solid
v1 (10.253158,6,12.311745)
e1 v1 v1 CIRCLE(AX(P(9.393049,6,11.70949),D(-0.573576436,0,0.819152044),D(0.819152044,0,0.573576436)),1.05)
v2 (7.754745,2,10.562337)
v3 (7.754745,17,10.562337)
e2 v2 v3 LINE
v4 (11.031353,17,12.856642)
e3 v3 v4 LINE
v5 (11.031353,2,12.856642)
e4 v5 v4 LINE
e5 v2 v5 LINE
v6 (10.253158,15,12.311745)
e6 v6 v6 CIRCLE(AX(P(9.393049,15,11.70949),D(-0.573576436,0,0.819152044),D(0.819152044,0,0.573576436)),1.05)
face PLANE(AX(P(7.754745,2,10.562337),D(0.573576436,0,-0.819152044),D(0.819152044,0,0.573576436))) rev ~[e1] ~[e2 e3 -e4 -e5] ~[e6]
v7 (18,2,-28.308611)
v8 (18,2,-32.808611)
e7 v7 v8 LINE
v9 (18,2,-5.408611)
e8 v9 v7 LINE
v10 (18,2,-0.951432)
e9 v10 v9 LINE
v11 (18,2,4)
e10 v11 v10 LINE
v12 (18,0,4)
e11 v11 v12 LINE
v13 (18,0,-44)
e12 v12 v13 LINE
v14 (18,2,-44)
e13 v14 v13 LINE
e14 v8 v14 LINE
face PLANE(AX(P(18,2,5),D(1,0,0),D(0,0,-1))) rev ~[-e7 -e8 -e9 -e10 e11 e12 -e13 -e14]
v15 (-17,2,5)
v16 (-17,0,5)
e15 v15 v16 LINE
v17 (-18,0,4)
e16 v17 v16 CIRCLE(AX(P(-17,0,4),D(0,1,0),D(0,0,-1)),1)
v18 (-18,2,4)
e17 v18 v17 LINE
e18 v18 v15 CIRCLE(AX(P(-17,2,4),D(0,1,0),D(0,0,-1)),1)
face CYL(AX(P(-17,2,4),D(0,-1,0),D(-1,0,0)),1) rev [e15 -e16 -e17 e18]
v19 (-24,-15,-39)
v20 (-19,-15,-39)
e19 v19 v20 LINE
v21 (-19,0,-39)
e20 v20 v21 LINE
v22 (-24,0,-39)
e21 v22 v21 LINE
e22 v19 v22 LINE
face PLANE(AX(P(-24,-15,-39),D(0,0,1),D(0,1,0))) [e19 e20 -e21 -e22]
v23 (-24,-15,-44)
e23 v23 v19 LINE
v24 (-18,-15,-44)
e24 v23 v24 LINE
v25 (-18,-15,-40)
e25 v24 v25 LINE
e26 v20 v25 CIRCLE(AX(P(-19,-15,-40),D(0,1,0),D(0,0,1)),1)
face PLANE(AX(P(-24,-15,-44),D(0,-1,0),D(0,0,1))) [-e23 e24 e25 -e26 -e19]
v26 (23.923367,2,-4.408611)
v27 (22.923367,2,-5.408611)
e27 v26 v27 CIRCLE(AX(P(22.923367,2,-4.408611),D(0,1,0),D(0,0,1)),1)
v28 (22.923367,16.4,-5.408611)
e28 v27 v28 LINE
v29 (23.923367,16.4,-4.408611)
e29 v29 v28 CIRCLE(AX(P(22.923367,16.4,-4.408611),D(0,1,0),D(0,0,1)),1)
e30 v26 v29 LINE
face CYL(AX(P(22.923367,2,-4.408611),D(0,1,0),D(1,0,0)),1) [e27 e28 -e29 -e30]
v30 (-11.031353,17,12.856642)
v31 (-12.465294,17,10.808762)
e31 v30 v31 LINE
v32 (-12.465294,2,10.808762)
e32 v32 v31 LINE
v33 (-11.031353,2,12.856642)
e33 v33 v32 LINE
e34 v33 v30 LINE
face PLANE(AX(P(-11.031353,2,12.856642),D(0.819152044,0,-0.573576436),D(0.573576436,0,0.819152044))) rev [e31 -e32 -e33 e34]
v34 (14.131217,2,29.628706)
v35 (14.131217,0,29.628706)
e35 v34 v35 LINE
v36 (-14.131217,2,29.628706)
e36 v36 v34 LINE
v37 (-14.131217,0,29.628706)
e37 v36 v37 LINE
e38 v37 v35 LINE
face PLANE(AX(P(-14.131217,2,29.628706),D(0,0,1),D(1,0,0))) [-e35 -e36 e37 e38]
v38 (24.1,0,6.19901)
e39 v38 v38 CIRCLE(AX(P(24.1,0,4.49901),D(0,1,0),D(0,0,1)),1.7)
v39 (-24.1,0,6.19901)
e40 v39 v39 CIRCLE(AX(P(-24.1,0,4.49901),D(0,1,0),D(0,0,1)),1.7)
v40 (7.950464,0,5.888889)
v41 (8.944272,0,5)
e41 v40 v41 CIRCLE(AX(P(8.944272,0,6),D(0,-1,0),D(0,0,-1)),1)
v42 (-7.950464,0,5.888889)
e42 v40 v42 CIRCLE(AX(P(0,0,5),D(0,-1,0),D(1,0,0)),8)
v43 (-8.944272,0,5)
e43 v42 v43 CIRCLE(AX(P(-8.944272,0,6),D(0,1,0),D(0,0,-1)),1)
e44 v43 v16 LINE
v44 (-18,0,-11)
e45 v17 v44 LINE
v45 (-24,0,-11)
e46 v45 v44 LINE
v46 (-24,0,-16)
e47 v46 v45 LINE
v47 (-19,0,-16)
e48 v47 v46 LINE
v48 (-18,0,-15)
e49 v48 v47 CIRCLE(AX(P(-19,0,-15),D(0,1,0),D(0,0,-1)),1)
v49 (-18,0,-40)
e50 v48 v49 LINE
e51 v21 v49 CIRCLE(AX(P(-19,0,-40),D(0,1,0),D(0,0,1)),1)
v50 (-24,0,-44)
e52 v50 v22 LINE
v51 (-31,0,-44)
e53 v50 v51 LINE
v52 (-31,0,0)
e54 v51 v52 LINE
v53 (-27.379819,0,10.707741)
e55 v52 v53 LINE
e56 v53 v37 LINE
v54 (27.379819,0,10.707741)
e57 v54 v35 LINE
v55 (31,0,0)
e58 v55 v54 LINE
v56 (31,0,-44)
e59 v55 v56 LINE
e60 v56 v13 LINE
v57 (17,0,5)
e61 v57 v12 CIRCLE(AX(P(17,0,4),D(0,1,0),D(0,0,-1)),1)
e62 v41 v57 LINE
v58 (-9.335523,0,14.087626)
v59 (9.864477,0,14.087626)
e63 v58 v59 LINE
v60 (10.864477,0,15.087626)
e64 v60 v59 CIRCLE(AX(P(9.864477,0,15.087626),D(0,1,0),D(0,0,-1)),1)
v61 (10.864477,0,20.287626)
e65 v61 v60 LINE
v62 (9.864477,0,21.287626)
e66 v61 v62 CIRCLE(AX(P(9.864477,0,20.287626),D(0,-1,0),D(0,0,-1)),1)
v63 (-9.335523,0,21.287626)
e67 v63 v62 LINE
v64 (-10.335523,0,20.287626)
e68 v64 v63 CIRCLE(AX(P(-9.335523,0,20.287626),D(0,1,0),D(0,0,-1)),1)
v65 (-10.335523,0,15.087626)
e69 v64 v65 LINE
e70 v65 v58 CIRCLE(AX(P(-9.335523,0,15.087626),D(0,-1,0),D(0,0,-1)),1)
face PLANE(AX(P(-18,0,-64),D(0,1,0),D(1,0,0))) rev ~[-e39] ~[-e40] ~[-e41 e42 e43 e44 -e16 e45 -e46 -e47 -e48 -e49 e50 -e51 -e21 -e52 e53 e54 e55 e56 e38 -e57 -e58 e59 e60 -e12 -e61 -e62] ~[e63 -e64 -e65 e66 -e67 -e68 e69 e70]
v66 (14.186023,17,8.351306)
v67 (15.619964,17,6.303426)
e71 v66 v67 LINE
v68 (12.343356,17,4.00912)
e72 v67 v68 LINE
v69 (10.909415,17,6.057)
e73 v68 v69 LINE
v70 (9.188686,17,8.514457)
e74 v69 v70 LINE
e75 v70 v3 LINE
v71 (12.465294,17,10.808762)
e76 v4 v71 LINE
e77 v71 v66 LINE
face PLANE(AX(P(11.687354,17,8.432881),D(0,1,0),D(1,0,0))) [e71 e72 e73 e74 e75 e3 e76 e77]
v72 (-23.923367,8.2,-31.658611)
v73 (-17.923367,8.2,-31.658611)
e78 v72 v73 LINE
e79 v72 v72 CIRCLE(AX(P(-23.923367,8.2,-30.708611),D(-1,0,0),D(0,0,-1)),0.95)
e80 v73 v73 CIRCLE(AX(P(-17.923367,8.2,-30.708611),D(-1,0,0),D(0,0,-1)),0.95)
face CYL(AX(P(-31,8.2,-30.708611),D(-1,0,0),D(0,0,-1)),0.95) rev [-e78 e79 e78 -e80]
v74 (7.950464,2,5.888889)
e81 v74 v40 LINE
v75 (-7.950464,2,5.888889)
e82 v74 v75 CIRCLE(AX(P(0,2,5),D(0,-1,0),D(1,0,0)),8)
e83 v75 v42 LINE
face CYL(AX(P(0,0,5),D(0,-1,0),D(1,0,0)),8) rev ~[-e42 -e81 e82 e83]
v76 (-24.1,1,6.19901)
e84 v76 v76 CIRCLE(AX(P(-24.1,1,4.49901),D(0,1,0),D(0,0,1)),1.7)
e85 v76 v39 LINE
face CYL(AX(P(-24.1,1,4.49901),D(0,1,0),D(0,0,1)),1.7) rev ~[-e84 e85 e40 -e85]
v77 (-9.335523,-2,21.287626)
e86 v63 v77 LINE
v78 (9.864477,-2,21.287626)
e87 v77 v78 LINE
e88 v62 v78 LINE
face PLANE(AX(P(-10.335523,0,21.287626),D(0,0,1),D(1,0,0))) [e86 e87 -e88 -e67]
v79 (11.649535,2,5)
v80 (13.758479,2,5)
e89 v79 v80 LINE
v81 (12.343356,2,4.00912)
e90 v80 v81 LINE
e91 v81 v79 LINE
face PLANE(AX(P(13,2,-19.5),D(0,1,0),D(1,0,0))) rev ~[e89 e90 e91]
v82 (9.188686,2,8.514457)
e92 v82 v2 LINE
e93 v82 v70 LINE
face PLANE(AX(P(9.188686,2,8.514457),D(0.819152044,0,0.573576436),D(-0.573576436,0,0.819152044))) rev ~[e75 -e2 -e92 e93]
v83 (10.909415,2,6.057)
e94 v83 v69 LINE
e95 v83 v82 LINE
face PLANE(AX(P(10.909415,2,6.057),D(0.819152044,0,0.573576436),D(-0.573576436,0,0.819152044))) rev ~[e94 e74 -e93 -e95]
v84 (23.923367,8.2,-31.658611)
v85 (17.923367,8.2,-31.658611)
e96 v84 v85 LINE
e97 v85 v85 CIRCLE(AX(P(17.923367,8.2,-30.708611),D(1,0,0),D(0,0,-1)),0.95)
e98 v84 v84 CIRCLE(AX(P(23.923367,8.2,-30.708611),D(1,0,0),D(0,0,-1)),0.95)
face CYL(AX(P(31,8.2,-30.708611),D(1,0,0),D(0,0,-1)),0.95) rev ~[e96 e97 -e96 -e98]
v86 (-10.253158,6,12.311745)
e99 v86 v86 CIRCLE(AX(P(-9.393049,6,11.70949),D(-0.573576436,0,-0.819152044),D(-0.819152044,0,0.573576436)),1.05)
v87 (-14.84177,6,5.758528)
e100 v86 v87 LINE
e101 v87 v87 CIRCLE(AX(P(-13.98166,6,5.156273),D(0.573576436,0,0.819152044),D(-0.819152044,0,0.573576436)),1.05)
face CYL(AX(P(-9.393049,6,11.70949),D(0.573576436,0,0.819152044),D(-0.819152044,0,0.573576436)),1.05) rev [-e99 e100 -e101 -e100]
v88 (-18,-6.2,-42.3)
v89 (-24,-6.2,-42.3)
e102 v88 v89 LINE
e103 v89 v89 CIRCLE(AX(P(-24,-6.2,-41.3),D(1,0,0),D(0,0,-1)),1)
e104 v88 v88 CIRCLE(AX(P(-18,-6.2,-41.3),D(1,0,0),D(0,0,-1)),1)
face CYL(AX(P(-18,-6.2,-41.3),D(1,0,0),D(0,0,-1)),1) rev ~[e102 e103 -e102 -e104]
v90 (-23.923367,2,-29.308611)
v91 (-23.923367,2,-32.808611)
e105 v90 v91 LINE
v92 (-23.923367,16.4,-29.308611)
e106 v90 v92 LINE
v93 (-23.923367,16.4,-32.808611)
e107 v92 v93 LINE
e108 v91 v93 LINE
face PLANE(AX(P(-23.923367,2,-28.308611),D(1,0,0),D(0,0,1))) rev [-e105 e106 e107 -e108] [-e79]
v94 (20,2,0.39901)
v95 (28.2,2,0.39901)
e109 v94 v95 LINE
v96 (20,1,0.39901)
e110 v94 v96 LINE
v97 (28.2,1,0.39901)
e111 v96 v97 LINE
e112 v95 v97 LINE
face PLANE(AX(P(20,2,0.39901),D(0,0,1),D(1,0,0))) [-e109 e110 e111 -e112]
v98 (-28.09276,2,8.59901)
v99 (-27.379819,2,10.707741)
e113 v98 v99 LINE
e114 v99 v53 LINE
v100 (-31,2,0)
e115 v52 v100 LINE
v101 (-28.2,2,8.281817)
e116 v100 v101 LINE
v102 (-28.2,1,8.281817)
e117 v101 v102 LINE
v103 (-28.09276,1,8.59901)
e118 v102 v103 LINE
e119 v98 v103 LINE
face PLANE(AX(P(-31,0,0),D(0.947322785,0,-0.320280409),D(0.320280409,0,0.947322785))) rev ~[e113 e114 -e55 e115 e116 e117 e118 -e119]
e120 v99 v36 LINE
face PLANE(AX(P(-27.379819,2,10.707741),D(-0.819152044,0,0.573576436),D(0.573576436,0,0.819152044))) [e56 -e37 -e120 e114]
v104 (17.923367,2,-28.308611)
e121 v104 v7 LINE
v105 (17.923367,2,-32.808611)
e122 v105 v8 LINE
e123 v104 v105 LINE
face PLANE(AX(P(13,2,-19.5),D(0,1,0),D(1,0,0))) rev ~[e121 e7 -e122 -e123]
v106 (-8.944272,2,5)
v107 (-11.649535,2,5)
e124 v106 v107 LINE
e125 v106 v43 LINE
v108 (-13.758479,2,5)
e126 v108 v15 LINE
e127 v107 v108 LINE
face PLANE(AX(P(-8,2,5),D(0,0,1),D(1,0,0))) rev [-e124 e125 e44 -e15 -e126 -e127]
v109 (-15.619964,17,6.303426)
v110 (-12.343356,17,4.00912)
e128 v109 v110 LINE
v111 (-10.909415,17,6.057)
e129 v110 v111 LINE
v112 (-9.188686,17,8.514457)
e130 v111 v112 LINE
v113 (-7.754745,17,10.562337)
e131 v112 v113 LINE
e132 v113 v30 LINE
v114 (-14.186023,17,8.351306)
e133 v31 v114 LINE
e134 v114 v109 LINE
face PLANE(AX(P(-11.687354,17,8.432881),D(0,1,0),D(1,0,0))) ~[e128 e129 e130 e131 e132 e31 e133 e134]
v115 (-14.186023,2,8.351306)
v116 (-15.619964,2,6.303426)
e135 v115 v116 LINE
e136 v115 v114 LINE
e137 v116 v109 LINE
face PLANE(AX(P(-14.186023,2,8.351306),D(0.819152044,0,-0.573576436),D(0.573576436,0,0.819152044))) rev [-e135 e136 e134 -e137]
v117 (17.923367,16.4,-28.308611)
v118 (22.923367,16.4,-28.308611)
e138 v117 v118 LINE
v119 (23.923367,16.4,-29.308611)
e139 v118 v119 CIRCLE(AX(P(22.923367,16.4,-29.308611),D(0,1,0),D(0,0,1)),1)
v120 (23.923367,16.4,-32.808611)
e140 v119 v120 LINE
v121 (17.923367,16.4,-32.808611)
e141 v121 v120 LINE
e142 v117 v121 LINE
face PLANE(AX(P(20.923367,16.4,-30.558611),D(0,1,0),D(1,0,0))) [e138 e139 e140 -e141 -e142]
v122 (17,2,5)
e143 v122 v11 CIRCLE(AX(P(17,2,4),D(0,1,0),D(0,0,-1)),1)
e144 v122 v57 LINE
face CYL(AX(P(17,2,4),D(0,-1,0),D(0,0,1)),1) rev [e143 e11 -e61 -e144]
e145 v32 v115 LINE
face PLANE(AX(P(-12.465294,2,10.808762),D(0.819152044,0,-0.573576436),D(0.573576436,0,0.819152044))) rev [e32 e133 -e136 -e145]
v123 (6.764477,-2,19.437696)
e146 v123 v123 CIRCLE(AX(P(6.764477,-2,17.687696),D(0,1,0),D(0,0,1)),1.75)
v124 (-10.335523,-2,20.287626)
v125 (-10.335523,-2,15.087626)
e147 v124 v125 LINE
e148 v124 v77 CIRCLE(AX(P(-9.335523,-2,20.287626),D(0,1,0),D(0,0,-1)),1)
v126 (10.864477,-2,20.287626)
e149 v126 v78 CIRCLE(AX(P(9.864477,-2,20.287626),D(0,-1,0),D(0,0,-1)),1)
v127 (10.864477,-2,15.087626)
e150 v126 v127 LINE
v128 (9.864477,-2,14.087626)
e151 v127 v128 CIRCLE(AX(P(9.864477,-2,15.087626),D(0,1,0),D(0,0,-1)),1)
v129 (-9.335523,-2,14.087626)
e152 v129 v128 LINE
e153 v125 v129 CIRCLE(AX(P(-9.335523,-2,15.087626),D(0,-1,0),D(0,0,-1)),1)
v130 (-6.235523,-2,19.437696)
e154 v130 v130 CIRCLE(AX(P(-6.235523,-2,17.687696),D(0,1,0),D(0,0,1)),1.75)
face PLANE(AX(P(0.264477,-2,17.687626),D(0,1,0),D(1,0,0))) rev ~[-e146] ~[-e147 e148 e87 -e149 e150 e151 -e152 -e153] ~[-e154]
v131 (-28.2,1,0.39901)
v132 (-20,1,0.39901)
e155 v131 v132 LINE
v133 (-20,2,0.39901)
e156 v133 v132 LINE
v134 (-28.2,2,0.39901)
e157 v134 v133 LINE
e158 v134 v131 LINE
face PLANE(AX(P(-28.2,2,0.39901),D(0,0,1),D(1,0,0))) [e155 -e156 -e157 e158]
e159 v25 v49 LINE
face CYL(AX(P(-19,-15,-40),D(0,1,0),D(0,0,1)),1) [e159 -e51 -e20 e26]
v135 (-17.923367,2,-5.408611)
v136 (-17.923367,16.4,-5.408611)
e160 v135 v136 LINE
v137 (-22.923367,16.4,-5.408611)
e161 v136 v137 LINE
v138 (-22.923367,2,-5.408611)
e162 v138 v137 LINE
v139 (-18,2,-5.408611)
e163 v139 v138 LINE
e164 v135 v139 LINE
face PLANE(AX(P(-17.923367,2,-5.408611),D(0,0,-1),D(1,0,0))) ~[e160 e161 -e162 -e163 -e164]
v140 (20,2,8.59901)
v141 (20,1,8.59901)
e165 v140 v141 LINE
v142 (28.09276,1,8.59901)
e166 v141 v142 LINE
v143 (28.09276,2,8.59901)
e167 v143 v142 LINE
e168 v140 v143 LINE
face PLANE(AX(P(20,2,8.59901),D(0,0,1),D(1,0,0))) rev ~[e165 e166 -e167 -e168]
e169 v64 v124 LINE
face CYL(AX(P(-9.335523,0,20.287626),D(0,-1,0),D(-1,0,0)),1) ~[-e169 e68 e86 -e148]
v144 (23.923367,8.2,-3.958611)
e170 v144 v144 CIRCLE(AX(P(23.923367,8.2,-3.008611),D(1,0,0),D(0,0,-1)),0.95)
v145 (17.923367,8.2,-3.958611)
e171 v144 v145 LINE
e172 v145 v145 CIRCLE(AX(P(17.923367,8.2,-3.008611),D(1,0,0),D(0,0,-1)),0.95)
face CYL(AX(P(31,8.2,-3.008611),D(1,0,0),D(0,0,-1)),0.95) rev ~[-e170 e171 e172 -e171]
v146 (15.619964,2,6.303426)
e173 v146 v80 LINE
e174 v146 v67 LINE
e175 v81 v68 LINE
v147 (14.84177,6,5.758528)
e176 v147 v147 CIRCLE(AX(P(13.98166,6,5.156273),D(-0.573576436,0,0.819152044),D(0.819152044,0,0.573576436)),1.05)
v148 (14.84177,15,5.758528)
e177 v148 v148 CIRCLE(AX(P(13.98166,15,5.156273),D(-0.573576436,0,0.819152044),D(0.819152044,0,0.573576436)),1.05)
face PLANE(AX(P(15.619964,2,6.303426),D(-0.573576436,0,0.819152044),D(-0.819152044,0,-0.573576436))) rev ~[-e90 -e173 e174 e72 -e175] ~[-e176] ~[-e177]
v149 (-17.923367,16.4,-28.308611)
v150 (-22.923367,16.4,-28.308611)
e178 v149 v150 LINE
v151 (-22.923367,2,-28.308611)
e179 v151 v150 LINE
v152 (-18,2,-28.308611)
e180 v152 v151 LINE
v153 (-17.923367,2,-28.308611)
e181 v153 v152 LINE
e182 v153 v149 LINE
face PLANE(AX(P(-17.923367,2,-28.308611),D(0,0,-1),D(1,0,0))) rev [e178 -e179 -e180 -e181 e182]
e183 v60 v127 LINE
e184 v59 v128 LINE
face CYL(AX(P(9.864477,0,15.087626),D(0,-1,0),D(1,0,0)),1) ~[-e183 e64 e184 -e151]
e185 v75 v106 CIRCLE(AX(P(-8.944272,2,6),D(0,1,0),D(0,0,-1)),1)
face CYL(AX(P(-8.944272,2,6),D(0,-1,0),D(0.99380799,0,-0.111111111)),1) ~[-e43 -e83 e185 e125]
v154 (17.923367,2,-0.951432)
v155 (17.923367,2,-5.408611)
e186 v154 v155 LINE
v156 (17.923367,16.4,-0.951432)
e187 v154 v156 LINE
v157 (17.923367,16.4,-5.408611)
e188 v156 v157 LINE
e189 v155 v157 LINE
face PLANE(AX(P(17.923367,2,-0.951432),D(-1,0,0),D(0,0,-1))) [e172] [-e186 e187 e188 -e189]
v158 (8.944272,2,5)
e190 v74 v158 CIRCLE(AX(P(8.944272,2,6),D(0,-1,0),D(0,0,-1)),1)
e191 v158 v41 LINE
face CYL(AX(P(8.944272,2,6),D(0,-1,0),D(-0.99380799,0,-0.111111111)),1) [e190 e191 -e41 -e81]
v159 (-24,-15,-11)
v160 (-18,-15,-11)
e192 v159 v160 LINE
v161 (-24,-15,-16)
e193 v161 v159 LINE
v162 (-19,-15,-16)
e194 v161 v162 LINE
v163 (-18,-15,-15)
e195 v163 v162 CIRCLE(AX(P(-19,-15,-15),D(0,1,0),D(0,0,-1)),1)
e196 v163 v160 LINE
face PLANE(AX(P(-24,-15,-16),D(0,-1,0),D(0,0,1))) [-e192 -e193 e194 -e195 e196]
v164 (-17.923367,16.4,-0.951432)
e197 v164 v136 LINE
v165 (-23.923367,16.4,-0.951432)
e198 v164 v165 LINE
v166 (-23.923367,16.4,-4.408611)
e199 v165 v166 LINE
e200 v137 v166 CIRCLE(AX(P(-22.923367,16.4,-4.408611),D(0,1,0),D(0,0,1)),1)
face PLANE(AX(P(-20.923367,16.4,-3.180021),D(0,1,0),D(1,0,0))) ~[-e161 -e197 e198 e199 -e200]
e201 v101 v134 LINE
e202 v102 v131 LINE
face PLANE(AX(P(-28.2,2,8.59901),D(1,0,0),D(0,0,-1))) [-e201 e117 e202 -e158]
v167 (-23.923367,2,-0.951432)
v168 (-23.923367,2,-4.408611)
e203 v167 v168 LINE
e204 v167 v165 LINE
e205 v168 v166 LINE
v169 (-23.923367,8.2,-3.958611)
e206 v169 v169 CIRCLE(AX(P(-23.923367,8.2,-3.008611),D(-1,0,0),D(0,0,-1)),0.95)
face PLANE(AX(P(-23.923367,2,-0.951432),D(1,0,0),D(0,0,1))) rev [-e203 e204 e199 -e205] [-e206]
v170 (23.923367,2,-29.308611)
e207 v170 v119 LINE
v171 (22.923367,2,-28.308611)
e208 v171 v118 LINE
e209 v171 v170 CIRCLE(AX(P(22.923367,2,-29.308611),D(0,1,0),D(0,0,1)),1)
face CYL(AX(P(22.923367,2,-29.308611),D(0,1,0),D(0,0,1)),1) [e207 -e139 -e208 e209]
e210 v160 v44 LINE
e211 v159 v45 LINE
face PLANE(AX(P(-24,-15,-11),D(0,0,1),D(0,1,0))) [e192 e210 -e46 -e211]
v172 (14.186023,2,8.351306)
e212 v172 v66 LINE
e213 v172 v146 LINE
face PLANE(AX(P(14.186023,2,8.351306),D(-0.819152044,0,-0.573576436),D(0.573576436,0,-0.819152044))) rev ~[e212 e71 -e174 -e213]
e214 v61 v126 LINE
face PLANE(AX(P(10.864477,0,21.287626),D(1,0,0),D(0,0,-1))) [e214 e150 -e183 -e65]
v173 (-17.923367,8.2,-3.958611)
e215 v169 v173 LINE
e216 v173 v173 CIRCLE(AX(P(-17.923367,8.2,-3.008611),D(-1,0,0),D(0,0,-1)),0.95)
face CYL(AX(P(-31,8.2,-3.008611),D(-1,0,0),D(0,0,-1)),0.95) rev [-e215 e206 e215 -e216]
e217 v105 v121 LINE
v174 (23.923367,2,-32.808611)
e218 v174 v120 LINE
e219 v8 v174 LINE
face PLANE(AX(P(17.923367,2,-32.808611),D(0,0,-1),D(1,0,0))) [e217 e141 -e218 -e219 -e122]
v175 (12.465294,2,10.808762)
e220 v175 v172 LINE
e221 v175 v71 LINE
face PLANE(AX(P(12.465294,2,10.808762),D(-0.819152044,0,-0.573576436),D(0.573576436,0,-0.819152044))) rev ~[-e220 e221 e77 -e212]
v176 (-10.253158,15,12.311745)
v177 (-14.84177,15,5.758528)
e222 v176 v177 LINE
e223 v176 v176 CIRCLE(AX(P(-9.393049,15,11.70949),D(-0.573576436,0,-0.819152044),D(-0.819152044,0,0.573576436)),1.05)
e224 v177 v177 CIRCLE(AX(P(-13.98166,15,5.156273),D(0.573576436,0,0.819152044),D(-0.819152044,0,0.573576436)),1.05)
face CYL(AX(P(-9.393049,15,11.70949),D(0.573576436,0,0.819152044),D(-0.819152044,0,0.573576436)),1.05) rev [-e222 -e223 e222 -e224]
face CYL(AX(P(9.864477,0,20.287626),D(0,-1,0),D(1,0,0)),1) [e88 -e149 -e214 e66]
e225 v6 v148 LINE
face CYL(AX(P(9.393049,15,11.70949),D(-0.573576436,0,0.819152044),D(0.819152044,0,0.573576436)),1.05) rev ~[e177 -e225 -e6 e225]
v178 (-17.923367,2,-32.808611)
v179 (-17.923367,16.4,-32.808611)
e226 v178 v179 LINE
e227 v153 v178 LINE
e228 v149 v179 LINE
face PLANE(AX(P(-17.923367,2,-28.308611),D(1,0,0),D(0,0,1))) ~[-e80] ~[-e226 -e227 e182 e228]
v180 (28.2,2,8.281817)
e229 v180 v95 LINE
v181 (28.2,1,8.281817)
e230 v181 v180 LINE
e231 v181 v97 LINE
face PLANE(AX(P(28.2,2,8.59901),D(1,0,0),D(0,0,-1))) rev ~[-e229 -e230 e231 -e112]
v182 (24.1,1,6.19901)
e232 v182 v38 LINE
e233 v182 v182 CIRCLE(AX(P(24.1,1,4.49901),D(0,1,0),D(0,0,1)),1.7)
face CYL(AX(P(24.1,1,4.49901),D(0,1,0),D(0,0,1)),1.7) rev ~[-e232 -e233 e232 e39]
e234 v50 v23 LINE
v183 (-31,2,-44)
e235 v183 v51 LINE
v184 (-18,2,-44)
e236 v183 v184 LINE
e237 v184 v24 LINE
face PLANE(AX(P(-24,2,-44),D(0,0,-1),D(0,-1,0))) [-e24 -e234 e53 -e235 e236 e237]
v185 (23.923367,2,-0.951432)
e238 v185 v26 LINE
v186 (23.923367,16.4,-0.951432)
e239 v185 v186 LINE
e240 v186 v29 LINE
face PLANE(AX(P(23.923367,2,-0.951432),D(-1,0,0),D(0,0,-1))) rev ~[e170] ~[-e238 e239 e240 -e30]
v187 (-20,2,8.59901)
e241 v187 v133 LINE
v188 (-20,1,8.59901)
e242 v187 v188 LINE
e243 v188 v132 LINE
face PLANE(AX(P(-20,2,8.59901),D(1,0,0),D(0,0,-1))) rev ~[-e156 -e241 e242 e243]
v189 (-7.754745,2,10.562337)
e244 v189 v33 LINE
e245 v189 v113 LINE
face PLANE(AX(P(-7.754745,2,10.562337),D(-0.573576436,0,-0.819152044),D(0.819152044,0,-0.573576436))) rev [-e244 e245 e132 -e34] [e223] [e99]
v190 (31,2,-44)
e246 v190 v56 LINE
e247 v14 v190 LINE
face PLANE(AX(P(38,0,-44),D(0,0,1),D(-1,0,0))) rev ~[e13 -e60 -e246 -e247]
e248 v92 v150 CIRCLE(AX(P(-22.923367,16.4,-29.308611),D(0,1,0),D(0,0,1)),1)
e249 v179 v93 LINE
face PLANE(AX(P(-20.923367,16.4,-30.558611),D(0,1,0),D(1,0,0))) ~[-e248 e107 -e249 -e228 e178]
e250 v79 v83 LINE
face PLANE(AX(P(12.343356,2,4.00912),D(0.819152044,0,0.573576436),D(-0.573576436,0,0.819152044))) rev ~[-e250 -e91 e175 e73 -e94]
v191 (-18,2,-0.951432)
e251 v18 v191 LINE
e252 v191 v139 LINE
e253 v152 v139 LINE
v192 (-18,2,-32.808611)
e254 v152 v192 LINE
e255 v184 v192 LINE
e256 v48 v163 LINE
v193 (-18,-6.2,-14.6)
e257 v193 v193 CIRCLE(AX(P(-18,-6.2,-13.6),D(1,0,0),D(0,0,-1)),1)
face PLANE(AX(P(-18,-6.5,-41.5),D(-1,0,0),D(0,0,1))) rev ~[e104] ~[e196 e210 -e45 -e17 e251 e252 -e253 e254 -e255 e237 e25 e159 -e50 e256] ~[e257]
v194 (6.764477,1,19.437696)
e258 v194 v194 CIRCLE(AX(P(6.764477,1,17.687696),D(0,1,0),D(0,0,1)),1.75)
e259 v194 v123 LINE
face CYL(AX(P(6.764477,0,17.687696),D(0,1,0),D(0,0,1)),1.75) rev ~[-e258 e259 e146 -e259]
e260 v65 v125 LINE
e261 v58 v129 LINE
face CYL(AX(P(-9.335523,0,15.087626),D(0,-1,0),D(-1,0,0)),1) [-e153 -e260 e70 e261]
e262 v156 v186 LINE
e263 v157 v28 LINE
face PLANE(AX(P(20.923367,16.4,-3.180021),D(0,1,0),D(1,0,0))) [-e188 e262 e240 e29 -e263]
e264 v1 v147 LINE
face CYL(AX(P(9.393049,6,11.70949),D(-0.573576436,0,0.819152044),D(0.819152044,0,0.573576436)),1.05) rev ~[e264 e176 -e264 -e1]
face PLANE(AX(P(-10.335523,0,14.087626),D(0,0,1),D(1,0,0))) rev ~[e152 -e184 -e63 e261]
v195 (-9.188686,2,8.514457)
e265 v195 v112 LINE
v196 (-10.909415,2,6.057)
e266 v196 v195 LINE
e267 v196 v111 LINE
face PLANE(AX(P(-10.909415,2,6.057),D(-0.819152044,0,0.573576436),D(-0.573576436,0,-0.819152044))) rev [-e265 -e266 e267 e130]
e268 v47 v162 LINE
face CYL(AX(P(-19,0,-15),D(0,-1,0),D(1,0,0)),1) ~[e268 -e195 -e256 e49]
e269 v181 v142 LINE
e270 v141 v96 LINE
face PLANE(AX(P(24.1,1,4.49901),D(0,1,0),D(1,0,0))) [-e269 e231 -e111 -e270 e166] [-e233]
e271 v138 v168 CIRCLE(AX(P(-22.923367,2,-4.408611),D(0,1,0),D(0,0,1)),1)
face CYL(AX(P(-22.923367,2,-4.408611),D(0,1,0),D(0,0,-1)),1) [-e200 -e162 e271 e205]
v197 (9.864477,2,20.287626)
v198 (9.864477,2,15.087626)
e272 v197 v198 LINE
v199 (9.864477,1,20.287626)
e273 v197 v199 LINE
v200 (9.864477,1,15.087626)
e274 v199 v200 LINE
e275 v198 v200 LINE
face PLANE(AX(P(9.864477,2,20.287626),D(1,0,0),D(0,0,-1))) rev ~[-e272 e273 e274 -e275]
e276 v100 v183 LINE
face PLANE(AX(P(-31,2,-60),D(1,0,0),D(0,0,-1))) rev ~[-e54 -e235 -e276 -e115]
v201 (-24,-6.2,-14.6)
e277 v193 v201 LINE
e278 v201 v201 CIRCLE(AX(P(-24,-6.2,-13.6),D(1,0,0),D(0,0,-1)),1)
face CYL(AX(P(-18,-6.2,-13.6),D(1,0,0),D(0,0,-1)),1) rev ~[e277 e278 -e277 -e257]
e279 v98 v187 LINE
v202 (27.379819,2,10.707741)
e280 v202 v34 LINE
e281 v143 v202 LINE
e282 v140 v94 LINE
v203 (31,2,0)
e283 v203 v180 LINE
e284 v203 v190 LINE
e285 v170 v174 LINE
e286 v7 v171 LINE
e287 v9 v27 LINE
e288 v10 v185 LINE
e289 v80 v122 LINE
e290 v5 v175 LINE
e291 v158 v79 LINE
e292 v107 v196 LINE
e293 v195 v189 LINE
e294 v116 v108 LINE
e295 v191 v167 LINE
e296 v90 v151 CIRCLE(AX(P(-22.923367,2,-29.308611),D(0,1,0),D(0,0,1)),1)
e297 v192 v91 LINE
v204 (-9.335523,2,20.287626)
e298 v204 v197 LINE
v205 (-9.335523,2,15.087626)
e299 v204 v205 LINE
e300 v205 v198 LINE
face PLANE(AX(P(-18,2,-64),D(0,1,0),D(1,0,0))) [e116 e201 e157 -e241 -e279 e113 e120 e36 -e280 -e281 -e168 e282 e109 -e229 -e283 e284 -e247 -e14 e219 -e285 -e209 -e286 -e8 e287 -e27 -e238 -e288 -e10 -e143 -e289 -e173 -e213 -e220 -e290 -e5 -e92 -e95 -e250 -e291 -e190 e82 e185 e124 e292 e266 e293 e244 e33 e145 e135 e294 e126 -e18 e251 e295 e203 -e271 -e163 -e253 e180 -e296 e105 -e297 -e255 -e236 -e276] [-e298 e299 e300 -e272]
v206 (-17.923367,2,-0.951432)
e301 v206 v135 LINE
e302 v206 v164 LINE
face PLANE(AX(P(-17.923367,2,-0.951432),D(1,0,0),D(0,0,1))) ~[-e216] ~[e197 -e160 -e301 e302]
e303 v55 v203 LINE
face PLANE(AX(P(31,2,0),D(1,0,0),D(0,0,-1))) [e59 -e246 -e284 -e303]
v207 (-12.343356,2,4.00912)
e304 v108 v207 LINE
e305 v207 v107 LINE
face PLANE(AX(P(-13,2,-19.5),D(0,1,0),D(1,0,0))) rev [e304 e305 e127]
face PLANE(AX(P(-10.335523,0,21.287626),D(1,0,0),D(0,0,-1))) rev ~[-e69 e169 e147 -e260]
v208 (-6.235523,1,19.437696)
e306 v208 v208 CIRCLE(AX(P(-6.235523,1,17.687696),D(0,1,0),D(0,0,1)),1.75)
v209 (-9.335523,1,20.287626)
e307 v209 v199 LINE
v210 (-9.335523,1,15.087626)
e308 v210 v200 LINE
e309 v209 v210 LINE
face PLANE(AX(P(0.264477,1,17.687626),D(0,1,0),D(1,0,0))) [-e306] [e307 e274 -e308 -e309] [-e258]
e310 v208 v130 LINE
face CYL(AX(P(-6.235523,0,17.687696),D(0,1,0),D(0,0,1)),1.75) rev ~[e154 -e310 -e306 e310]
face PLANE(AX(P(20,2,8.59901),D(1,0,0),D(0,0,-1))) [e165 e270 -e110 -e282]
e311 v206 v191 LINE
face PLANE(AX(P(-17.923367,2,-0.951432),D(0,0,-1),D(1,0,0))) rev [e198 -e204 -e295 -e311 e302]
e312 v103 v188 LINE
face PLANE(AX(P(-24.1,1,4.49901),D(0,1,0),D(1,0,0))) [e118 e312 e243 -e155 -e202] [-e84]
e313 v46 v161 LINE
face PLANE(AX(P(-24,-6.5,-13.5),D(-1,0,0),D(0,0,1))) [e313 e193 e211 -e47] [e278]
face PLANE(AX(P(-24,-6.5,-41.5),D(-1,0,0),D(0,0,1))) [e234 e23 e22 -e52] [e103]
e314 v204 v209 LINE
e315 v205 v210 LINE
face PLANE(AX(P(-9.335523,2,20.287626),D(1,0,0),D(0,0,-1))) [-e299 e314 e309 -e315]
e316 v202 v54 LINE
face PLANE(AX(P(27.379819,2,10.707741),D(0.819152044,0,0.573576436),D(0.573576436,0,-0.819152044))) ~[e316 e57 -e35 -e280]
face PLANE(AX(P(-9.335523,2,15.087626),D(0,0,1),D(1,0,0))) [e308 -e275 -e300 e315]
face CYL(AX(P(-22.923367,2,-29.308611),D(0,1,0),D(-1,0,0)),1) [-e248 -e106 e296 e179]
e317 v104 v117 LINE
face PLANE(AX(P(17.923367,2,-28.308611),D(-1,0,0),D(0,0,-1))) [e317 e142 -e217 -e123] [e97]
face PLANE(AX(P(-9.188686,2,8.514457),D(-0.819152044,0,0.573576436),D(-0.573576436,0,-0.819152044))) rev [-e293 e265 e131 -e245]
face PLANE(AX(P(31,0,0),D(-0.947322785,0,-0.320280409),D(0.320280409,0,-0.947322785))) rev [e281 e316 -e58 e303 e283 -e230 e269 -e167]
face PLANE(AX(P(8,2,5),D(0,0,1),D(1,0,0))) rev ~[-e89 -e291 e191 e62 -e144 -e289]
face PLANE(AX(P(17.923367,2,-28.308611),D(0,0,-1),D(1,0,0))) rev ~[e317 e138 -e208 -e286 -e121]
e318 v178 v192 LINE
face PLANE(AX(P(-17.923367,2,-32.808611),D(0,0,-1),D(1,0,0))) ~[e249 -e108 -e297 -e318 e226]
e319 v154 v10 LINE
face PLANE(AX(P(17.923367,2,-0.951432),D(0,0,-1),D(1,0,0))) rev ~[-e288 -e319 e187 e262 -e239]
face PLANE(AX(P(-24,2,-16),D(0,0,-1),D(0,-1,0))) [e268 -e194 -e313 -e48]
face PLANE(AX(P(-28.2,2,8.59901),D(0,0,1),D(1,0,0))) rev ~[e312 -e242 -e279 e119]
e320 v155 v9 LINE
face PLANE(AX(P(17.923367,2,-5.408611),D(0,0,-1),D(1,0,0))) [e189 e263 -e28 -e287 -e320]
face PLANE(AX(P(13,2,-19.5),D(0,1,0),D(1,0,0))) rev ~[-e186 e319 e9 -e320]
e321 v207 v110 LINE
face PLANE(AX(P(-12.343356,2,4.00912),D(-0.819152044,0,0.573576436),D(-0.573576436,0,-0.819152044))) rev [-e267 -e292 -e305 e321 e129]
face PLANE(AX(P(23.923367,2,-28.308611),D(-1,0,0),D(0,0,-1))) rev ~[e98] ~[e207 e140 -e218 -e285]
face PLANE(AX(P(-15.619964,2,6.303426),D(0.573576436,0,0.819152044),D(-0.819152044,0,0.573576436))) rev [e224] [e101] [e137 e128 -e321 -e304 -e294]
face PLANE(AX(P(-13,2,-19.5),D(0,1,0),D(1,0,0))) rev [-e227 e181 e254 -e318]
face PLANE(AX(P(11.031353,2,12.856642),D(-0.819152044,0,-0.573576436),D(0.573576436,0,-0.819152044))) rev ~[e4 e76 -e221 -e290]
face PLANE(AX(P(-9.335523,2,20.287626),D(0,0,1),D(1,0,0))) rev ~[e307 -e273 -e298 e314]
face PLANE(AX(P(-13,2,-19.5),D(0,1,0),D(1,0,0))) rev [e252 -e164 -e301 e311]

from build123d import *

# Parameters (mm, degrees)
EXTRUDE_1_DEPTH      = 2
CUT_EXTRUDE_1_DEPTH  = 2
SKETCH_3_W           = 3
SKETCH_3_H           = 3
EXTRUDE_2_DEPTH      = 12
EXTRUDE_3_DEPTH      = 15
SKETCH_5_R           = 0.75
CUT_EXTRUDE_2_DEPTH  = 12
SKETCH_6_R           = 1.05
CUT_EXTRUDE_3_DEPTH  = 12
SKETCH_7_W           = 26
SKETCH_7_H           = 60
EXTRUDE_4_DEPTH      = 2
SKETCH_8_W           = 6
SKETCH_8_H           = 4.457179677
SKETCH_8_H_2         = 4.5
EXTRUDE_5_DEPTH      = 14.4
SKETCH_9_R           = 0.95
CUT_EXTRUDE_4_DEPTH  = 14.4
SKETCH_10_W          = 26
SKETCH_10_H          = 8
EXTRUDE_6_DEPTH      = 2
SKETCH_11_W          = 4.5
SKETCH_11_H          = 4.5
EXTRUDE_7_DEPTH      = 14.4
SKETCH_12_R          = 0.95
CUT_EXTRUDE_5_DEPTH  = 14.4
SKETCH_13_W          = 4.5
SKETCH_13_H          = 4.5
CUT_EXTRUDE_6_DEPTH  = 14.4
SKETCH_15_R          = 1.75
CUT_EXTRUDE_8_DEPTH  = 12
SKETCH_14_W          = 3
SKETCH_14_H          = 3
CUT_EXTRUDE_9_DEPTH  = 12
CUT_EXTRUDE_11_DEPTH = 10
CUT_EXTRUDE_13_DEPTH = 5
SKETCH_22_W          = 8.2
SKETCH_22_H          = 8.2
CUT_EXTRUDE_15_DEPTH = 1
SKETCH_23_W          = 10
SKETCH_23_H          = 49
CUT_EXTRUDE_16_DEPTH = 10
FILLET_4_R           = 1
SKETCH_24_W          = 19.2
SKETCH_24_H          = 5.2
CUT_EXTRUDE_17_DEPTH = 1
EXTRUDE_START        = -1
SKETCH_25_W          = 21.2
SKETCH_25_H          = 7.2
SKETCH_25_R          = 1.75
EXTRUDE_10_DEPTH     = 2
FILLET_5_R           = 1
CUT_EXTRUDE_18_DEPTH = 10
CUT_EXTRUDE_19_DEPTH = 10
FILLET_7_R           = 1
EXTRUDE_12_DEPTH     = 6
SKETCH_34_R          = 1
CUT_EXTRUDE_24_DEPTH = 10
FILLET_9_R           = 1
SKETCH_31_W          = 28.262434414
SKETCH_31_H          = 5.377761842
CUT_EXTRUDE_22_DEPTH = 10
SKETCH_32_R          = 1.7
CUT_EXTRUDE_23_DEPTH = 10


with BuildPart() as part:
    # 草图1 → 凸台-拉伸1 (new body)
    with BuildSketch(Plane(origin=(0, 0, 0), x_dir=(1, 0, 0), z_dir=(0, 1, 0))):
        with BuildLine():
            Line((5, 0), (31, 0))
            Line((31, 0), (31, -12.266105287))
            Line((31, -12.266105287), (17.561663747, -40))
            Line((17.561663747, -40), (-17.561663747, -40))
            Line((-17.561663747, -40), (-31, -12.266105287))
            Line((-31, -12.266105287), (-31, 0))
            Line((-31, 0), (-5, 0))
            Line((-5, 0), (-5, -5))
            ThreePointArc((-5, -5), (0, -10), (5, -5))
            Line((5, -5), (5, 0))
        make_face()
    extrude(amount=EXTRUDE_1_DEPTH)

    # 草图2 → 切除-拉伸1 (cut)
    with BuildSketch(Plane.XZ):
        Polygon((-31, 0), (-24.370648345, 19.60824232), (-13.01326486, 35.515995577), (-4.410164775, 40), (-17.561663747, 40), (-31, 12.266105287), align=None)
    cut_extrude_1 = extrude(amount=-CUT_EXTRUDE_1_DEPTH, mode=Mode.SUBTRACT)

    # 镜向1: 切除-拉伸1 across plane
    add(cut_extrude_1.mirror(Plane(origin=(0, 0, 0), x_dir=(0, 0, 1), z_dir=(1, 0, 0))), mode=Mode.SUBTRACT)

    # 草图3 → 凸台-拉伸2 (add)
    with BuildSketch(Plane(origin=(0, 2, 0), x_dir=(1, 0, 0), z_dir=(0, 1, 0))):
        with Locations((0.264476572, -30.687696452)):
            Rectangle(SKETCH_3_W, SKETCH_3_H)
    extrude(amount=EXTRUDE_2_DEPTH)

    # 草图4 → 凸台-拉伸3 (add)
    with BuildSketch(Plane(origin=(0, 2, 0), x_dir=(1, 0, 0), z_dir=(0, 1, 0))):
        Polygon((12.4652939, -10.808762302), (14.186023209, -8.35130617), (15.6199643, -6.303426059), (12.343356123, -4.009120313), (10.909415032, -6.057000424), (9.188685723, -8.514456557), (7.754744632, -10.562336668), (11.031352809, -12.856642413), align=None)
    extrude_3 = extrude(amount=EXTRUDE_3_DEPTH)

    # 草图5 → 切除-拉伸2 (cut)
    with BuildSketch(Plane.ZY.offset(1.235523428)):
        with Locations((30.687696452, 11.5)):
            Circle(SKETCH_5_R)
        with Locations((30.687696452, 4.5)):
            Circle(SKETCH_5_R)
    extrude(amount=-CUT_EXTRUDE_2_DEPTH, mode=Mode.SUBTRACT)

    # 草图6 → 切除-拉伸3 (cut)
    with BuildSketch(Plane(origin=(25.938855932, 0, 23.294988476), x_dir=(0.8191520442889928, 0, 0.5735764363510446), z_dir=(-0.5735764363510446, 0, 0.8191520442889928))):
        with Locations((-20.198700994, 15)):
            Circle(SKETCH_6_R)
        with Locations((-20.198700994, 6)):
            Circle(SKETCH_6_R)
    cut_extrude_3 = extrude(amount=-CUT_EXTRUDE_3_DEPTH, mode=Mode.SUBTRACT)

    # 镜向2: 凸台-拉伸3, 切除-拉伸3 across plane
    add(extrude_3.mirror(Plane(origin=(0, 0, 0), x_dir=(0, 0, 1), z_dir=(1, 0, 0))))
    add(cut_extrude_3.mirror(Plane(origin=(0, 0, 0), x_dir=(0, 0, 1), z_dir=(1, 0, 0))), mode=Mode.SUBTRACT)

    # 草图7 → 凸台-拉伸4 (add)
    with BuildSketch(Plane(origin=(0, 2, 0), x_dir=(1, 0, 0), z_dir=(0, 1, 0))):
        with Locations((-18, 30)):
            Rectangle(SKETCH_7_W, SKETCH_7_H)
        with Locations((18, 30)):
            Rectangle(SKETCH_7_W, SKETCH_7_H)
    extrude(amount=-EXTRUDE_4_DEPTH)

    # 草图8 → 凸台-拉伸5 (add)
    with BuildSketch(Plane(origin=(0, 2, 0), x_dir=(1, 0, 0), z_dir=(0, 1, 0))):
        with Locations((20.92336727, 3.180021452)):
            Rectangle(SKETCH_8_W, SKETCH_8_H)
        with Locations((20.92336727, 30.55861129)):
            Rectangle(SKETCH_8_W, SKETCH_8_H_2)
    extrude_5 = extrude(amount=EXTRUDE_5_DEPTH)

    # 草图9 → 切除-拉伸4 (cut)
    with BuildSketch(Plane(origin=(31, 0, 0), x_dir=(0, 0, -1), z_dir=(1, 0, 0))):
        with Locations((3.00861129, 8.2)):
            Circle(SKETCH_9_R)
        with Locations((30.70861129, 8.2)):
            Circle(SKETCH_9_R)
    cut_extrude_4 = extrude(amount=-CUT_EXTRUDE_4_DEPTH, mode=Mode.SUBTRACT)

    # 镜向3: 凸台-拉伸5, 切除-拉伸4 across plane
    add(extrude_5.mirror(Plane(origin=(0, 0, 0), x_dir=(0, 0, 1), z_dir=(1, 0, 0))))
    add(cut_extrude_4.mirror(Plane(origin=(0, 0, 0), x_dir=(0, 0, 1), z_dir=(1, 0, 0))), mode=Mode.SUBTRACT)

    # 草图10 → 凸台-拉伸6 (add)
    with BuildSketch(Plane(origin=(0, 2, 0), x_dir=(1, 0, 0), z_dir=(0, 1, 0))):
        with Locations((-18, 64)):
            Rectangle(SKETCH_10_W, SKETCH_10_H)
        Polygon((5, 60), (5, 68), (30.798641436, 68), (31, 60), align=None)
    extrude(amount=-EXTRUDE_6_DEPTH)

    # 草图11 → 凸台-拉伸7 (add)
    with BuildSketch(Plane(origin=(0, 2, 0), x_dir=(1, 0, 0), z_dir=(0, 1, 0))):
        with Locations((18.529999999, 37.05861129)):
            Rectangle(SKETCH_11_W, SKETCH_11_H)
        with Locations((18.529999999, 64.45861129)):
            Rectangle(SKETCH_11_W, SKETCH_11_H)
    extrude(amount=EXTRUDE_7_DEPTH)

    # 草图12 → 切除-拉伸5 (cut)
    with BuildSketch(Plane.ZY.offset(-16.279999999)):
        with Locations((-36.90861129, 8.2)):
            Circle(SKETCH_12_R)
        with Locations((-64.60861129, 8.2)):
            Circle(SKETCH_12_R)
    extrude(amount=-CUT_EXTRUDE_5_DEPTH, mode=Mode.SUBTRACT)

    # 草图13 → 切除-拉伸6 (cut)
    with BuildSketch(Plane(origin=(0, 16.4, 0), x_dir=(1, 0, 0), z_dir=(0, 1, 0))):
        with Locations((18.529999999, 37.05861129)):
            Rectangle(SKETCH_13_W, SKETCH_13_H)
        with Locations((18.529999999, 64.45861129)):
            Rectangle(SKETCH_13_W, SKETCH_13_H)
    extrude(amount=-CUT_EXTRUDE_6_DEPTH, mode=Mode.SUBTRACT)

    # 草图15 → 切除-拉伸8 (cut)
    with BuildSketch(Plane(origin=(0, 2, 0), x_dir=(1, 0, 0), z_dir=(0, 1, 0))):
        with Locations(Location((-6.235523428, -17.687696452, 0), (0, 0, 270))):
            Circle(SKETCH_15_R)
        with Locations(Location((6.764476572, -17.687696452, 0), (0, 0, 270))):
            Circle(SKETCH_15_R)
    extrude(amount=-CUT_EXTRUDE_8_DEPTH, mode=Mode.SUBTRACT)

    # 草图14 → 切除-拉伸9 (cut)
    with BuildSketch(Plane(origin=(0, 14, 0), x_dir=(1, 0, 0), z_dir=(0, 1, 0))):
        with Locations((0.264476572, -30.687696452)):
            Rectangle(SKETCH_14_W, SKETCH_14_H)
    extrude(amount=-CUT_EXTRUDE_9_DEPTH, mode=Mode.SUBTRACT)

    # 草图17 → 切除-拉伸11 (cut)
    with BuildSketch(Plane.XZ):
        Polygon((-20.533375452, -44), (-31, -44), (-37, -44), (-37, -68), (-31, -68), (30.798641436, -68), (38, -68), (38, -44), (31, -44), align=None)
    extrude(amount=-CUT_EXTRUDE_11_DEPTH, mode=Mode.SUBTRACT)

    # 草图20 → 切除-拉伸13 (cut, symmetric)
    with BuildSketch(Plane.XZ):
        with BuildLine():
            Line((5, -44), (8, -44))
            Line((8, -44), (8, 5))
            ThreePointArc((8, 5), (0, 13), (-8, 5))
            Line((-8, 5), (-8, -44))
            Line((-8, -44), (5, -44))
        make_face()
    extrude(amount=CUT_EXTRUDE_13_DEPTH, both=True, mode=Mode.SUBTRACT)

    # 草图22 → 切除-拉伸15 (cut)
    with BuildSketch(Plane(origin=(0, 2, 0), x_dir=(1, 0, 0), z_dir=(0, 1, 0))):
        with Locations((24.1, -4.499009955)):
            Rectangle(SKETCH_22_W, SKETCH_22_H)
        with Locations((-24.1, -4.499009955)):
            Rectangle(SKETCH_22_W, SKETCH_22_H)
    extrude(amount=-CUT_EXTRUDE_15_DEPTH, mode=Mode.SUBTRACT)

    # 草图23 → 切除-拉伸16 (cut)
    with BuildSketch(Plane(origin=(0, 2, 0), x_dir=(1, 0, 0), z_dir=(0, 1, 0))):
        with Locations((13, 19.5)):
            Rectangle(SKETCH_23_W, SKETCH_23_H)
    cut_extrude_16 = extrude(amount=-CUT_EXTRUDE_16_DEPTH, mode=Mode.SUBTRACT)

    # 镜向6: 切除-拉伸16 across plane
    add(cut_extrude_16.mirror(Plane(origin=(0, 0, 0), x_dir=(0, 0, 1), z_dir=(1, 0, 0))), mode=Mode.SUBTRACT)

    # 圆角4
    fillet_4_edges = [part.edges().sort_by_distance(p)[0] for p in [
        (-8, 1, 5),
        (8, 1, 5),
        (18, 1, 5),
        (-18, 1, 5),
    ]]
    fillet(fillet_4_edges, radius=FILLET_4_R)

    # 草图24 → 切除-拉伸17 (cut)
    with BuildSketch(Plane(origin=(0, 2, 0), x_dir=(1, 0, 0), z_dir=(0, 1, 0))):
        with Locations((0.264476572, -17.687625884)):
            Rectangle(SKETCH_24_W, SKETCH_24_H)
    extrude(amount=-CUT_EXTRUDE_17_DEPTH, mode=Mode.SUBTRACT)

    # 草图25 → 凸台-拉伸10 (add)
    with BuildSketch(Plane(origin=(0, 1, 0), x_dir=(1, 0, 0), z_dir=(0, 1, 0)).offset(EXTRUDE_START)):
        with Locations((0.264476572, -17.687625884)):
            Rectangle(SKETCH_25_W, SKETCH_25_H)
        with Locations(Location((-6.235523428, -17.687696452, 0), (0, 0, 270))):
            Circle(SKETCH_25_R, mode=Mode.SUBTRACT)
        with Locations(Location((6.764476572, -17.687696452, 0), (0, 0, 270))):
            Circle(SKETCH_25_R, mode=Mode.SUBTRACT)
    extrude(amount=-EXTRUDE_10_DEPTH)

    # 圆角5
    fillet_5_edges = [part.edges().sort_by_distance(p)[0] for p in [
        (10.864476572, -1, 14.087625884),
        (10.864476572, -1, 21.287625884),
        (-10.335523428, -1, 21.287625884),
        (-10.335523428, -1, 14.087625884),
    ]]
    fillet(fillet_5_edges, radius=FILLET_5_R)

    # 草图26 → 切除-拉伸18 (cut)
    with BuildSketch(Plane(origin=(0, 2, 0), x_dir=(1, 0, 0), z_dir=(0, 1, 0))):
        with BuildLine():
            Line((-35.006467671, 0), (-35.006467671, -42.039018824))
            Line((-35.006467671, -42.039018824), (35.006467671, -42.039018824))
            Line((35.006467671, -42.039018824), (35.006467671, 0))
            ThreePointArc((35.006467671, 0), (0, -35.006467671), (-35.006467671, 0))
        make_face()
    extrude(amount=-CUT_EXTRUDE_18_DEPTH, mode=Mode.SUBTRACT)

    # 草图27 → 切除-拉伸19 (cut)
    with BuildSketch(Plane(origin=(0, 2, 0), x_dir=(1, 0, 0), z_dir=(0, 1, 0))):
        Polygon((-27.379819186, -10.707741319), (-14.131217207, -29.628705829), (-14.131217207, -32.027511284), (-27.379819186, -32.027511284), align=None)
    cut_extrude_19 = extrude(amount=-CUT_EXTRUDE_19_DEPTH, mode=Mode.SUBTRACT)

    # 镜向4: 切除-拉伸19 across plane
    add(cut_extrude_19.mirror(Plane(origin=(0, 0, 0), x_dir=(0, 0, 1), z_dir=(1, 0, 0))), mode=Mode.SUBTRACT)

    # 圆角7
    fillet_7_edges = [part.edges().sort_by_distance(p)[0] for p in [
        (23.92336727, 9.2, -5.40861129),
        (23.92336727, 9.2, -28.30861129),
        (-23.92336727, 9.2, -5.40861129),
        (-23.92336727, 9.2, -28.30861129),
    ]]
    fillet(fillet_7_edges, radius=FILLET_7_R)

    # 草图33 → 凸台-拉伸12 (add)
    with BuildSketch(Plane.ZY.offset(24)):
        Polygon((-44, 0), (-44, -15), (-39, -15), (-39, 0), (-39, 2), (-44, 2), align=None)
        Polygon((-16, 0), (-16, -15), (-11, -15), (-11, 0), (-11, 2), (-16, 2), align=None)
    extrude(amount=-EXTRUDE_12_DEPTH)

    # 草图34 → 切除-拉伸24 (cut)
    with BuildSketch(Plane(origin=(-18, 0, 0), x_dir=(0, 0, -1), z_dir=(1, 0, 0))):
        with Locations((13.6, -6.2)):
            Circle(SKETCH_34_R)
        with Locations((41.3, -6.2)):
            Circle(SKETCH_34_R)
    extrude(amount=-CUT_EXTRUDE_24_DEPTH, mode=Mode.SUBTRACT)

    # 圆角9
    fillet_9_edges = [part.edges().sort_by_distance(p)[0] for p in [
        (-18, -7.5, -39),
        (-18, -7.5, -16),
    ]]
    fillet(fillet_9_edges, radius=FILLET_9_R)

    # 草图31 → 切除-拉伸22 (cut)
    with BuildSketch(Plane(origin=(0, 2, 0), x_dir=(1, 0, 0), z_dir=(0, 1, 0))):
        with Locations((0, -32.31758675)):
            Rectangle(SKETCH_31_W, SKETCH_31_H)
    extrude(amount=-CUT_EXTRUDE_22_DEPTH, mode=Mode.SUBTRACT)

    # 草图32 → 切除-拉伸23 (cut)
    with BuildSketch(Plane(origin=(0, 1, 0), x_dir=(1, 0, 0), z_dir=(0, 1, 0))):
        with Locations(Location((-24.1, -4.499009955, 0), (0, 0, 270))):
            Circle(SKETCH_32_R)
        with Locations(Location((24.1, -4.499009955, 0), (0, 0, 270))):
            Circle(SKETCH_32_R)
    extrude(amount=-CUT_EXTRUDE_23_DEPTH, mode=Mode.SUBTRACT)


solid = part.part
